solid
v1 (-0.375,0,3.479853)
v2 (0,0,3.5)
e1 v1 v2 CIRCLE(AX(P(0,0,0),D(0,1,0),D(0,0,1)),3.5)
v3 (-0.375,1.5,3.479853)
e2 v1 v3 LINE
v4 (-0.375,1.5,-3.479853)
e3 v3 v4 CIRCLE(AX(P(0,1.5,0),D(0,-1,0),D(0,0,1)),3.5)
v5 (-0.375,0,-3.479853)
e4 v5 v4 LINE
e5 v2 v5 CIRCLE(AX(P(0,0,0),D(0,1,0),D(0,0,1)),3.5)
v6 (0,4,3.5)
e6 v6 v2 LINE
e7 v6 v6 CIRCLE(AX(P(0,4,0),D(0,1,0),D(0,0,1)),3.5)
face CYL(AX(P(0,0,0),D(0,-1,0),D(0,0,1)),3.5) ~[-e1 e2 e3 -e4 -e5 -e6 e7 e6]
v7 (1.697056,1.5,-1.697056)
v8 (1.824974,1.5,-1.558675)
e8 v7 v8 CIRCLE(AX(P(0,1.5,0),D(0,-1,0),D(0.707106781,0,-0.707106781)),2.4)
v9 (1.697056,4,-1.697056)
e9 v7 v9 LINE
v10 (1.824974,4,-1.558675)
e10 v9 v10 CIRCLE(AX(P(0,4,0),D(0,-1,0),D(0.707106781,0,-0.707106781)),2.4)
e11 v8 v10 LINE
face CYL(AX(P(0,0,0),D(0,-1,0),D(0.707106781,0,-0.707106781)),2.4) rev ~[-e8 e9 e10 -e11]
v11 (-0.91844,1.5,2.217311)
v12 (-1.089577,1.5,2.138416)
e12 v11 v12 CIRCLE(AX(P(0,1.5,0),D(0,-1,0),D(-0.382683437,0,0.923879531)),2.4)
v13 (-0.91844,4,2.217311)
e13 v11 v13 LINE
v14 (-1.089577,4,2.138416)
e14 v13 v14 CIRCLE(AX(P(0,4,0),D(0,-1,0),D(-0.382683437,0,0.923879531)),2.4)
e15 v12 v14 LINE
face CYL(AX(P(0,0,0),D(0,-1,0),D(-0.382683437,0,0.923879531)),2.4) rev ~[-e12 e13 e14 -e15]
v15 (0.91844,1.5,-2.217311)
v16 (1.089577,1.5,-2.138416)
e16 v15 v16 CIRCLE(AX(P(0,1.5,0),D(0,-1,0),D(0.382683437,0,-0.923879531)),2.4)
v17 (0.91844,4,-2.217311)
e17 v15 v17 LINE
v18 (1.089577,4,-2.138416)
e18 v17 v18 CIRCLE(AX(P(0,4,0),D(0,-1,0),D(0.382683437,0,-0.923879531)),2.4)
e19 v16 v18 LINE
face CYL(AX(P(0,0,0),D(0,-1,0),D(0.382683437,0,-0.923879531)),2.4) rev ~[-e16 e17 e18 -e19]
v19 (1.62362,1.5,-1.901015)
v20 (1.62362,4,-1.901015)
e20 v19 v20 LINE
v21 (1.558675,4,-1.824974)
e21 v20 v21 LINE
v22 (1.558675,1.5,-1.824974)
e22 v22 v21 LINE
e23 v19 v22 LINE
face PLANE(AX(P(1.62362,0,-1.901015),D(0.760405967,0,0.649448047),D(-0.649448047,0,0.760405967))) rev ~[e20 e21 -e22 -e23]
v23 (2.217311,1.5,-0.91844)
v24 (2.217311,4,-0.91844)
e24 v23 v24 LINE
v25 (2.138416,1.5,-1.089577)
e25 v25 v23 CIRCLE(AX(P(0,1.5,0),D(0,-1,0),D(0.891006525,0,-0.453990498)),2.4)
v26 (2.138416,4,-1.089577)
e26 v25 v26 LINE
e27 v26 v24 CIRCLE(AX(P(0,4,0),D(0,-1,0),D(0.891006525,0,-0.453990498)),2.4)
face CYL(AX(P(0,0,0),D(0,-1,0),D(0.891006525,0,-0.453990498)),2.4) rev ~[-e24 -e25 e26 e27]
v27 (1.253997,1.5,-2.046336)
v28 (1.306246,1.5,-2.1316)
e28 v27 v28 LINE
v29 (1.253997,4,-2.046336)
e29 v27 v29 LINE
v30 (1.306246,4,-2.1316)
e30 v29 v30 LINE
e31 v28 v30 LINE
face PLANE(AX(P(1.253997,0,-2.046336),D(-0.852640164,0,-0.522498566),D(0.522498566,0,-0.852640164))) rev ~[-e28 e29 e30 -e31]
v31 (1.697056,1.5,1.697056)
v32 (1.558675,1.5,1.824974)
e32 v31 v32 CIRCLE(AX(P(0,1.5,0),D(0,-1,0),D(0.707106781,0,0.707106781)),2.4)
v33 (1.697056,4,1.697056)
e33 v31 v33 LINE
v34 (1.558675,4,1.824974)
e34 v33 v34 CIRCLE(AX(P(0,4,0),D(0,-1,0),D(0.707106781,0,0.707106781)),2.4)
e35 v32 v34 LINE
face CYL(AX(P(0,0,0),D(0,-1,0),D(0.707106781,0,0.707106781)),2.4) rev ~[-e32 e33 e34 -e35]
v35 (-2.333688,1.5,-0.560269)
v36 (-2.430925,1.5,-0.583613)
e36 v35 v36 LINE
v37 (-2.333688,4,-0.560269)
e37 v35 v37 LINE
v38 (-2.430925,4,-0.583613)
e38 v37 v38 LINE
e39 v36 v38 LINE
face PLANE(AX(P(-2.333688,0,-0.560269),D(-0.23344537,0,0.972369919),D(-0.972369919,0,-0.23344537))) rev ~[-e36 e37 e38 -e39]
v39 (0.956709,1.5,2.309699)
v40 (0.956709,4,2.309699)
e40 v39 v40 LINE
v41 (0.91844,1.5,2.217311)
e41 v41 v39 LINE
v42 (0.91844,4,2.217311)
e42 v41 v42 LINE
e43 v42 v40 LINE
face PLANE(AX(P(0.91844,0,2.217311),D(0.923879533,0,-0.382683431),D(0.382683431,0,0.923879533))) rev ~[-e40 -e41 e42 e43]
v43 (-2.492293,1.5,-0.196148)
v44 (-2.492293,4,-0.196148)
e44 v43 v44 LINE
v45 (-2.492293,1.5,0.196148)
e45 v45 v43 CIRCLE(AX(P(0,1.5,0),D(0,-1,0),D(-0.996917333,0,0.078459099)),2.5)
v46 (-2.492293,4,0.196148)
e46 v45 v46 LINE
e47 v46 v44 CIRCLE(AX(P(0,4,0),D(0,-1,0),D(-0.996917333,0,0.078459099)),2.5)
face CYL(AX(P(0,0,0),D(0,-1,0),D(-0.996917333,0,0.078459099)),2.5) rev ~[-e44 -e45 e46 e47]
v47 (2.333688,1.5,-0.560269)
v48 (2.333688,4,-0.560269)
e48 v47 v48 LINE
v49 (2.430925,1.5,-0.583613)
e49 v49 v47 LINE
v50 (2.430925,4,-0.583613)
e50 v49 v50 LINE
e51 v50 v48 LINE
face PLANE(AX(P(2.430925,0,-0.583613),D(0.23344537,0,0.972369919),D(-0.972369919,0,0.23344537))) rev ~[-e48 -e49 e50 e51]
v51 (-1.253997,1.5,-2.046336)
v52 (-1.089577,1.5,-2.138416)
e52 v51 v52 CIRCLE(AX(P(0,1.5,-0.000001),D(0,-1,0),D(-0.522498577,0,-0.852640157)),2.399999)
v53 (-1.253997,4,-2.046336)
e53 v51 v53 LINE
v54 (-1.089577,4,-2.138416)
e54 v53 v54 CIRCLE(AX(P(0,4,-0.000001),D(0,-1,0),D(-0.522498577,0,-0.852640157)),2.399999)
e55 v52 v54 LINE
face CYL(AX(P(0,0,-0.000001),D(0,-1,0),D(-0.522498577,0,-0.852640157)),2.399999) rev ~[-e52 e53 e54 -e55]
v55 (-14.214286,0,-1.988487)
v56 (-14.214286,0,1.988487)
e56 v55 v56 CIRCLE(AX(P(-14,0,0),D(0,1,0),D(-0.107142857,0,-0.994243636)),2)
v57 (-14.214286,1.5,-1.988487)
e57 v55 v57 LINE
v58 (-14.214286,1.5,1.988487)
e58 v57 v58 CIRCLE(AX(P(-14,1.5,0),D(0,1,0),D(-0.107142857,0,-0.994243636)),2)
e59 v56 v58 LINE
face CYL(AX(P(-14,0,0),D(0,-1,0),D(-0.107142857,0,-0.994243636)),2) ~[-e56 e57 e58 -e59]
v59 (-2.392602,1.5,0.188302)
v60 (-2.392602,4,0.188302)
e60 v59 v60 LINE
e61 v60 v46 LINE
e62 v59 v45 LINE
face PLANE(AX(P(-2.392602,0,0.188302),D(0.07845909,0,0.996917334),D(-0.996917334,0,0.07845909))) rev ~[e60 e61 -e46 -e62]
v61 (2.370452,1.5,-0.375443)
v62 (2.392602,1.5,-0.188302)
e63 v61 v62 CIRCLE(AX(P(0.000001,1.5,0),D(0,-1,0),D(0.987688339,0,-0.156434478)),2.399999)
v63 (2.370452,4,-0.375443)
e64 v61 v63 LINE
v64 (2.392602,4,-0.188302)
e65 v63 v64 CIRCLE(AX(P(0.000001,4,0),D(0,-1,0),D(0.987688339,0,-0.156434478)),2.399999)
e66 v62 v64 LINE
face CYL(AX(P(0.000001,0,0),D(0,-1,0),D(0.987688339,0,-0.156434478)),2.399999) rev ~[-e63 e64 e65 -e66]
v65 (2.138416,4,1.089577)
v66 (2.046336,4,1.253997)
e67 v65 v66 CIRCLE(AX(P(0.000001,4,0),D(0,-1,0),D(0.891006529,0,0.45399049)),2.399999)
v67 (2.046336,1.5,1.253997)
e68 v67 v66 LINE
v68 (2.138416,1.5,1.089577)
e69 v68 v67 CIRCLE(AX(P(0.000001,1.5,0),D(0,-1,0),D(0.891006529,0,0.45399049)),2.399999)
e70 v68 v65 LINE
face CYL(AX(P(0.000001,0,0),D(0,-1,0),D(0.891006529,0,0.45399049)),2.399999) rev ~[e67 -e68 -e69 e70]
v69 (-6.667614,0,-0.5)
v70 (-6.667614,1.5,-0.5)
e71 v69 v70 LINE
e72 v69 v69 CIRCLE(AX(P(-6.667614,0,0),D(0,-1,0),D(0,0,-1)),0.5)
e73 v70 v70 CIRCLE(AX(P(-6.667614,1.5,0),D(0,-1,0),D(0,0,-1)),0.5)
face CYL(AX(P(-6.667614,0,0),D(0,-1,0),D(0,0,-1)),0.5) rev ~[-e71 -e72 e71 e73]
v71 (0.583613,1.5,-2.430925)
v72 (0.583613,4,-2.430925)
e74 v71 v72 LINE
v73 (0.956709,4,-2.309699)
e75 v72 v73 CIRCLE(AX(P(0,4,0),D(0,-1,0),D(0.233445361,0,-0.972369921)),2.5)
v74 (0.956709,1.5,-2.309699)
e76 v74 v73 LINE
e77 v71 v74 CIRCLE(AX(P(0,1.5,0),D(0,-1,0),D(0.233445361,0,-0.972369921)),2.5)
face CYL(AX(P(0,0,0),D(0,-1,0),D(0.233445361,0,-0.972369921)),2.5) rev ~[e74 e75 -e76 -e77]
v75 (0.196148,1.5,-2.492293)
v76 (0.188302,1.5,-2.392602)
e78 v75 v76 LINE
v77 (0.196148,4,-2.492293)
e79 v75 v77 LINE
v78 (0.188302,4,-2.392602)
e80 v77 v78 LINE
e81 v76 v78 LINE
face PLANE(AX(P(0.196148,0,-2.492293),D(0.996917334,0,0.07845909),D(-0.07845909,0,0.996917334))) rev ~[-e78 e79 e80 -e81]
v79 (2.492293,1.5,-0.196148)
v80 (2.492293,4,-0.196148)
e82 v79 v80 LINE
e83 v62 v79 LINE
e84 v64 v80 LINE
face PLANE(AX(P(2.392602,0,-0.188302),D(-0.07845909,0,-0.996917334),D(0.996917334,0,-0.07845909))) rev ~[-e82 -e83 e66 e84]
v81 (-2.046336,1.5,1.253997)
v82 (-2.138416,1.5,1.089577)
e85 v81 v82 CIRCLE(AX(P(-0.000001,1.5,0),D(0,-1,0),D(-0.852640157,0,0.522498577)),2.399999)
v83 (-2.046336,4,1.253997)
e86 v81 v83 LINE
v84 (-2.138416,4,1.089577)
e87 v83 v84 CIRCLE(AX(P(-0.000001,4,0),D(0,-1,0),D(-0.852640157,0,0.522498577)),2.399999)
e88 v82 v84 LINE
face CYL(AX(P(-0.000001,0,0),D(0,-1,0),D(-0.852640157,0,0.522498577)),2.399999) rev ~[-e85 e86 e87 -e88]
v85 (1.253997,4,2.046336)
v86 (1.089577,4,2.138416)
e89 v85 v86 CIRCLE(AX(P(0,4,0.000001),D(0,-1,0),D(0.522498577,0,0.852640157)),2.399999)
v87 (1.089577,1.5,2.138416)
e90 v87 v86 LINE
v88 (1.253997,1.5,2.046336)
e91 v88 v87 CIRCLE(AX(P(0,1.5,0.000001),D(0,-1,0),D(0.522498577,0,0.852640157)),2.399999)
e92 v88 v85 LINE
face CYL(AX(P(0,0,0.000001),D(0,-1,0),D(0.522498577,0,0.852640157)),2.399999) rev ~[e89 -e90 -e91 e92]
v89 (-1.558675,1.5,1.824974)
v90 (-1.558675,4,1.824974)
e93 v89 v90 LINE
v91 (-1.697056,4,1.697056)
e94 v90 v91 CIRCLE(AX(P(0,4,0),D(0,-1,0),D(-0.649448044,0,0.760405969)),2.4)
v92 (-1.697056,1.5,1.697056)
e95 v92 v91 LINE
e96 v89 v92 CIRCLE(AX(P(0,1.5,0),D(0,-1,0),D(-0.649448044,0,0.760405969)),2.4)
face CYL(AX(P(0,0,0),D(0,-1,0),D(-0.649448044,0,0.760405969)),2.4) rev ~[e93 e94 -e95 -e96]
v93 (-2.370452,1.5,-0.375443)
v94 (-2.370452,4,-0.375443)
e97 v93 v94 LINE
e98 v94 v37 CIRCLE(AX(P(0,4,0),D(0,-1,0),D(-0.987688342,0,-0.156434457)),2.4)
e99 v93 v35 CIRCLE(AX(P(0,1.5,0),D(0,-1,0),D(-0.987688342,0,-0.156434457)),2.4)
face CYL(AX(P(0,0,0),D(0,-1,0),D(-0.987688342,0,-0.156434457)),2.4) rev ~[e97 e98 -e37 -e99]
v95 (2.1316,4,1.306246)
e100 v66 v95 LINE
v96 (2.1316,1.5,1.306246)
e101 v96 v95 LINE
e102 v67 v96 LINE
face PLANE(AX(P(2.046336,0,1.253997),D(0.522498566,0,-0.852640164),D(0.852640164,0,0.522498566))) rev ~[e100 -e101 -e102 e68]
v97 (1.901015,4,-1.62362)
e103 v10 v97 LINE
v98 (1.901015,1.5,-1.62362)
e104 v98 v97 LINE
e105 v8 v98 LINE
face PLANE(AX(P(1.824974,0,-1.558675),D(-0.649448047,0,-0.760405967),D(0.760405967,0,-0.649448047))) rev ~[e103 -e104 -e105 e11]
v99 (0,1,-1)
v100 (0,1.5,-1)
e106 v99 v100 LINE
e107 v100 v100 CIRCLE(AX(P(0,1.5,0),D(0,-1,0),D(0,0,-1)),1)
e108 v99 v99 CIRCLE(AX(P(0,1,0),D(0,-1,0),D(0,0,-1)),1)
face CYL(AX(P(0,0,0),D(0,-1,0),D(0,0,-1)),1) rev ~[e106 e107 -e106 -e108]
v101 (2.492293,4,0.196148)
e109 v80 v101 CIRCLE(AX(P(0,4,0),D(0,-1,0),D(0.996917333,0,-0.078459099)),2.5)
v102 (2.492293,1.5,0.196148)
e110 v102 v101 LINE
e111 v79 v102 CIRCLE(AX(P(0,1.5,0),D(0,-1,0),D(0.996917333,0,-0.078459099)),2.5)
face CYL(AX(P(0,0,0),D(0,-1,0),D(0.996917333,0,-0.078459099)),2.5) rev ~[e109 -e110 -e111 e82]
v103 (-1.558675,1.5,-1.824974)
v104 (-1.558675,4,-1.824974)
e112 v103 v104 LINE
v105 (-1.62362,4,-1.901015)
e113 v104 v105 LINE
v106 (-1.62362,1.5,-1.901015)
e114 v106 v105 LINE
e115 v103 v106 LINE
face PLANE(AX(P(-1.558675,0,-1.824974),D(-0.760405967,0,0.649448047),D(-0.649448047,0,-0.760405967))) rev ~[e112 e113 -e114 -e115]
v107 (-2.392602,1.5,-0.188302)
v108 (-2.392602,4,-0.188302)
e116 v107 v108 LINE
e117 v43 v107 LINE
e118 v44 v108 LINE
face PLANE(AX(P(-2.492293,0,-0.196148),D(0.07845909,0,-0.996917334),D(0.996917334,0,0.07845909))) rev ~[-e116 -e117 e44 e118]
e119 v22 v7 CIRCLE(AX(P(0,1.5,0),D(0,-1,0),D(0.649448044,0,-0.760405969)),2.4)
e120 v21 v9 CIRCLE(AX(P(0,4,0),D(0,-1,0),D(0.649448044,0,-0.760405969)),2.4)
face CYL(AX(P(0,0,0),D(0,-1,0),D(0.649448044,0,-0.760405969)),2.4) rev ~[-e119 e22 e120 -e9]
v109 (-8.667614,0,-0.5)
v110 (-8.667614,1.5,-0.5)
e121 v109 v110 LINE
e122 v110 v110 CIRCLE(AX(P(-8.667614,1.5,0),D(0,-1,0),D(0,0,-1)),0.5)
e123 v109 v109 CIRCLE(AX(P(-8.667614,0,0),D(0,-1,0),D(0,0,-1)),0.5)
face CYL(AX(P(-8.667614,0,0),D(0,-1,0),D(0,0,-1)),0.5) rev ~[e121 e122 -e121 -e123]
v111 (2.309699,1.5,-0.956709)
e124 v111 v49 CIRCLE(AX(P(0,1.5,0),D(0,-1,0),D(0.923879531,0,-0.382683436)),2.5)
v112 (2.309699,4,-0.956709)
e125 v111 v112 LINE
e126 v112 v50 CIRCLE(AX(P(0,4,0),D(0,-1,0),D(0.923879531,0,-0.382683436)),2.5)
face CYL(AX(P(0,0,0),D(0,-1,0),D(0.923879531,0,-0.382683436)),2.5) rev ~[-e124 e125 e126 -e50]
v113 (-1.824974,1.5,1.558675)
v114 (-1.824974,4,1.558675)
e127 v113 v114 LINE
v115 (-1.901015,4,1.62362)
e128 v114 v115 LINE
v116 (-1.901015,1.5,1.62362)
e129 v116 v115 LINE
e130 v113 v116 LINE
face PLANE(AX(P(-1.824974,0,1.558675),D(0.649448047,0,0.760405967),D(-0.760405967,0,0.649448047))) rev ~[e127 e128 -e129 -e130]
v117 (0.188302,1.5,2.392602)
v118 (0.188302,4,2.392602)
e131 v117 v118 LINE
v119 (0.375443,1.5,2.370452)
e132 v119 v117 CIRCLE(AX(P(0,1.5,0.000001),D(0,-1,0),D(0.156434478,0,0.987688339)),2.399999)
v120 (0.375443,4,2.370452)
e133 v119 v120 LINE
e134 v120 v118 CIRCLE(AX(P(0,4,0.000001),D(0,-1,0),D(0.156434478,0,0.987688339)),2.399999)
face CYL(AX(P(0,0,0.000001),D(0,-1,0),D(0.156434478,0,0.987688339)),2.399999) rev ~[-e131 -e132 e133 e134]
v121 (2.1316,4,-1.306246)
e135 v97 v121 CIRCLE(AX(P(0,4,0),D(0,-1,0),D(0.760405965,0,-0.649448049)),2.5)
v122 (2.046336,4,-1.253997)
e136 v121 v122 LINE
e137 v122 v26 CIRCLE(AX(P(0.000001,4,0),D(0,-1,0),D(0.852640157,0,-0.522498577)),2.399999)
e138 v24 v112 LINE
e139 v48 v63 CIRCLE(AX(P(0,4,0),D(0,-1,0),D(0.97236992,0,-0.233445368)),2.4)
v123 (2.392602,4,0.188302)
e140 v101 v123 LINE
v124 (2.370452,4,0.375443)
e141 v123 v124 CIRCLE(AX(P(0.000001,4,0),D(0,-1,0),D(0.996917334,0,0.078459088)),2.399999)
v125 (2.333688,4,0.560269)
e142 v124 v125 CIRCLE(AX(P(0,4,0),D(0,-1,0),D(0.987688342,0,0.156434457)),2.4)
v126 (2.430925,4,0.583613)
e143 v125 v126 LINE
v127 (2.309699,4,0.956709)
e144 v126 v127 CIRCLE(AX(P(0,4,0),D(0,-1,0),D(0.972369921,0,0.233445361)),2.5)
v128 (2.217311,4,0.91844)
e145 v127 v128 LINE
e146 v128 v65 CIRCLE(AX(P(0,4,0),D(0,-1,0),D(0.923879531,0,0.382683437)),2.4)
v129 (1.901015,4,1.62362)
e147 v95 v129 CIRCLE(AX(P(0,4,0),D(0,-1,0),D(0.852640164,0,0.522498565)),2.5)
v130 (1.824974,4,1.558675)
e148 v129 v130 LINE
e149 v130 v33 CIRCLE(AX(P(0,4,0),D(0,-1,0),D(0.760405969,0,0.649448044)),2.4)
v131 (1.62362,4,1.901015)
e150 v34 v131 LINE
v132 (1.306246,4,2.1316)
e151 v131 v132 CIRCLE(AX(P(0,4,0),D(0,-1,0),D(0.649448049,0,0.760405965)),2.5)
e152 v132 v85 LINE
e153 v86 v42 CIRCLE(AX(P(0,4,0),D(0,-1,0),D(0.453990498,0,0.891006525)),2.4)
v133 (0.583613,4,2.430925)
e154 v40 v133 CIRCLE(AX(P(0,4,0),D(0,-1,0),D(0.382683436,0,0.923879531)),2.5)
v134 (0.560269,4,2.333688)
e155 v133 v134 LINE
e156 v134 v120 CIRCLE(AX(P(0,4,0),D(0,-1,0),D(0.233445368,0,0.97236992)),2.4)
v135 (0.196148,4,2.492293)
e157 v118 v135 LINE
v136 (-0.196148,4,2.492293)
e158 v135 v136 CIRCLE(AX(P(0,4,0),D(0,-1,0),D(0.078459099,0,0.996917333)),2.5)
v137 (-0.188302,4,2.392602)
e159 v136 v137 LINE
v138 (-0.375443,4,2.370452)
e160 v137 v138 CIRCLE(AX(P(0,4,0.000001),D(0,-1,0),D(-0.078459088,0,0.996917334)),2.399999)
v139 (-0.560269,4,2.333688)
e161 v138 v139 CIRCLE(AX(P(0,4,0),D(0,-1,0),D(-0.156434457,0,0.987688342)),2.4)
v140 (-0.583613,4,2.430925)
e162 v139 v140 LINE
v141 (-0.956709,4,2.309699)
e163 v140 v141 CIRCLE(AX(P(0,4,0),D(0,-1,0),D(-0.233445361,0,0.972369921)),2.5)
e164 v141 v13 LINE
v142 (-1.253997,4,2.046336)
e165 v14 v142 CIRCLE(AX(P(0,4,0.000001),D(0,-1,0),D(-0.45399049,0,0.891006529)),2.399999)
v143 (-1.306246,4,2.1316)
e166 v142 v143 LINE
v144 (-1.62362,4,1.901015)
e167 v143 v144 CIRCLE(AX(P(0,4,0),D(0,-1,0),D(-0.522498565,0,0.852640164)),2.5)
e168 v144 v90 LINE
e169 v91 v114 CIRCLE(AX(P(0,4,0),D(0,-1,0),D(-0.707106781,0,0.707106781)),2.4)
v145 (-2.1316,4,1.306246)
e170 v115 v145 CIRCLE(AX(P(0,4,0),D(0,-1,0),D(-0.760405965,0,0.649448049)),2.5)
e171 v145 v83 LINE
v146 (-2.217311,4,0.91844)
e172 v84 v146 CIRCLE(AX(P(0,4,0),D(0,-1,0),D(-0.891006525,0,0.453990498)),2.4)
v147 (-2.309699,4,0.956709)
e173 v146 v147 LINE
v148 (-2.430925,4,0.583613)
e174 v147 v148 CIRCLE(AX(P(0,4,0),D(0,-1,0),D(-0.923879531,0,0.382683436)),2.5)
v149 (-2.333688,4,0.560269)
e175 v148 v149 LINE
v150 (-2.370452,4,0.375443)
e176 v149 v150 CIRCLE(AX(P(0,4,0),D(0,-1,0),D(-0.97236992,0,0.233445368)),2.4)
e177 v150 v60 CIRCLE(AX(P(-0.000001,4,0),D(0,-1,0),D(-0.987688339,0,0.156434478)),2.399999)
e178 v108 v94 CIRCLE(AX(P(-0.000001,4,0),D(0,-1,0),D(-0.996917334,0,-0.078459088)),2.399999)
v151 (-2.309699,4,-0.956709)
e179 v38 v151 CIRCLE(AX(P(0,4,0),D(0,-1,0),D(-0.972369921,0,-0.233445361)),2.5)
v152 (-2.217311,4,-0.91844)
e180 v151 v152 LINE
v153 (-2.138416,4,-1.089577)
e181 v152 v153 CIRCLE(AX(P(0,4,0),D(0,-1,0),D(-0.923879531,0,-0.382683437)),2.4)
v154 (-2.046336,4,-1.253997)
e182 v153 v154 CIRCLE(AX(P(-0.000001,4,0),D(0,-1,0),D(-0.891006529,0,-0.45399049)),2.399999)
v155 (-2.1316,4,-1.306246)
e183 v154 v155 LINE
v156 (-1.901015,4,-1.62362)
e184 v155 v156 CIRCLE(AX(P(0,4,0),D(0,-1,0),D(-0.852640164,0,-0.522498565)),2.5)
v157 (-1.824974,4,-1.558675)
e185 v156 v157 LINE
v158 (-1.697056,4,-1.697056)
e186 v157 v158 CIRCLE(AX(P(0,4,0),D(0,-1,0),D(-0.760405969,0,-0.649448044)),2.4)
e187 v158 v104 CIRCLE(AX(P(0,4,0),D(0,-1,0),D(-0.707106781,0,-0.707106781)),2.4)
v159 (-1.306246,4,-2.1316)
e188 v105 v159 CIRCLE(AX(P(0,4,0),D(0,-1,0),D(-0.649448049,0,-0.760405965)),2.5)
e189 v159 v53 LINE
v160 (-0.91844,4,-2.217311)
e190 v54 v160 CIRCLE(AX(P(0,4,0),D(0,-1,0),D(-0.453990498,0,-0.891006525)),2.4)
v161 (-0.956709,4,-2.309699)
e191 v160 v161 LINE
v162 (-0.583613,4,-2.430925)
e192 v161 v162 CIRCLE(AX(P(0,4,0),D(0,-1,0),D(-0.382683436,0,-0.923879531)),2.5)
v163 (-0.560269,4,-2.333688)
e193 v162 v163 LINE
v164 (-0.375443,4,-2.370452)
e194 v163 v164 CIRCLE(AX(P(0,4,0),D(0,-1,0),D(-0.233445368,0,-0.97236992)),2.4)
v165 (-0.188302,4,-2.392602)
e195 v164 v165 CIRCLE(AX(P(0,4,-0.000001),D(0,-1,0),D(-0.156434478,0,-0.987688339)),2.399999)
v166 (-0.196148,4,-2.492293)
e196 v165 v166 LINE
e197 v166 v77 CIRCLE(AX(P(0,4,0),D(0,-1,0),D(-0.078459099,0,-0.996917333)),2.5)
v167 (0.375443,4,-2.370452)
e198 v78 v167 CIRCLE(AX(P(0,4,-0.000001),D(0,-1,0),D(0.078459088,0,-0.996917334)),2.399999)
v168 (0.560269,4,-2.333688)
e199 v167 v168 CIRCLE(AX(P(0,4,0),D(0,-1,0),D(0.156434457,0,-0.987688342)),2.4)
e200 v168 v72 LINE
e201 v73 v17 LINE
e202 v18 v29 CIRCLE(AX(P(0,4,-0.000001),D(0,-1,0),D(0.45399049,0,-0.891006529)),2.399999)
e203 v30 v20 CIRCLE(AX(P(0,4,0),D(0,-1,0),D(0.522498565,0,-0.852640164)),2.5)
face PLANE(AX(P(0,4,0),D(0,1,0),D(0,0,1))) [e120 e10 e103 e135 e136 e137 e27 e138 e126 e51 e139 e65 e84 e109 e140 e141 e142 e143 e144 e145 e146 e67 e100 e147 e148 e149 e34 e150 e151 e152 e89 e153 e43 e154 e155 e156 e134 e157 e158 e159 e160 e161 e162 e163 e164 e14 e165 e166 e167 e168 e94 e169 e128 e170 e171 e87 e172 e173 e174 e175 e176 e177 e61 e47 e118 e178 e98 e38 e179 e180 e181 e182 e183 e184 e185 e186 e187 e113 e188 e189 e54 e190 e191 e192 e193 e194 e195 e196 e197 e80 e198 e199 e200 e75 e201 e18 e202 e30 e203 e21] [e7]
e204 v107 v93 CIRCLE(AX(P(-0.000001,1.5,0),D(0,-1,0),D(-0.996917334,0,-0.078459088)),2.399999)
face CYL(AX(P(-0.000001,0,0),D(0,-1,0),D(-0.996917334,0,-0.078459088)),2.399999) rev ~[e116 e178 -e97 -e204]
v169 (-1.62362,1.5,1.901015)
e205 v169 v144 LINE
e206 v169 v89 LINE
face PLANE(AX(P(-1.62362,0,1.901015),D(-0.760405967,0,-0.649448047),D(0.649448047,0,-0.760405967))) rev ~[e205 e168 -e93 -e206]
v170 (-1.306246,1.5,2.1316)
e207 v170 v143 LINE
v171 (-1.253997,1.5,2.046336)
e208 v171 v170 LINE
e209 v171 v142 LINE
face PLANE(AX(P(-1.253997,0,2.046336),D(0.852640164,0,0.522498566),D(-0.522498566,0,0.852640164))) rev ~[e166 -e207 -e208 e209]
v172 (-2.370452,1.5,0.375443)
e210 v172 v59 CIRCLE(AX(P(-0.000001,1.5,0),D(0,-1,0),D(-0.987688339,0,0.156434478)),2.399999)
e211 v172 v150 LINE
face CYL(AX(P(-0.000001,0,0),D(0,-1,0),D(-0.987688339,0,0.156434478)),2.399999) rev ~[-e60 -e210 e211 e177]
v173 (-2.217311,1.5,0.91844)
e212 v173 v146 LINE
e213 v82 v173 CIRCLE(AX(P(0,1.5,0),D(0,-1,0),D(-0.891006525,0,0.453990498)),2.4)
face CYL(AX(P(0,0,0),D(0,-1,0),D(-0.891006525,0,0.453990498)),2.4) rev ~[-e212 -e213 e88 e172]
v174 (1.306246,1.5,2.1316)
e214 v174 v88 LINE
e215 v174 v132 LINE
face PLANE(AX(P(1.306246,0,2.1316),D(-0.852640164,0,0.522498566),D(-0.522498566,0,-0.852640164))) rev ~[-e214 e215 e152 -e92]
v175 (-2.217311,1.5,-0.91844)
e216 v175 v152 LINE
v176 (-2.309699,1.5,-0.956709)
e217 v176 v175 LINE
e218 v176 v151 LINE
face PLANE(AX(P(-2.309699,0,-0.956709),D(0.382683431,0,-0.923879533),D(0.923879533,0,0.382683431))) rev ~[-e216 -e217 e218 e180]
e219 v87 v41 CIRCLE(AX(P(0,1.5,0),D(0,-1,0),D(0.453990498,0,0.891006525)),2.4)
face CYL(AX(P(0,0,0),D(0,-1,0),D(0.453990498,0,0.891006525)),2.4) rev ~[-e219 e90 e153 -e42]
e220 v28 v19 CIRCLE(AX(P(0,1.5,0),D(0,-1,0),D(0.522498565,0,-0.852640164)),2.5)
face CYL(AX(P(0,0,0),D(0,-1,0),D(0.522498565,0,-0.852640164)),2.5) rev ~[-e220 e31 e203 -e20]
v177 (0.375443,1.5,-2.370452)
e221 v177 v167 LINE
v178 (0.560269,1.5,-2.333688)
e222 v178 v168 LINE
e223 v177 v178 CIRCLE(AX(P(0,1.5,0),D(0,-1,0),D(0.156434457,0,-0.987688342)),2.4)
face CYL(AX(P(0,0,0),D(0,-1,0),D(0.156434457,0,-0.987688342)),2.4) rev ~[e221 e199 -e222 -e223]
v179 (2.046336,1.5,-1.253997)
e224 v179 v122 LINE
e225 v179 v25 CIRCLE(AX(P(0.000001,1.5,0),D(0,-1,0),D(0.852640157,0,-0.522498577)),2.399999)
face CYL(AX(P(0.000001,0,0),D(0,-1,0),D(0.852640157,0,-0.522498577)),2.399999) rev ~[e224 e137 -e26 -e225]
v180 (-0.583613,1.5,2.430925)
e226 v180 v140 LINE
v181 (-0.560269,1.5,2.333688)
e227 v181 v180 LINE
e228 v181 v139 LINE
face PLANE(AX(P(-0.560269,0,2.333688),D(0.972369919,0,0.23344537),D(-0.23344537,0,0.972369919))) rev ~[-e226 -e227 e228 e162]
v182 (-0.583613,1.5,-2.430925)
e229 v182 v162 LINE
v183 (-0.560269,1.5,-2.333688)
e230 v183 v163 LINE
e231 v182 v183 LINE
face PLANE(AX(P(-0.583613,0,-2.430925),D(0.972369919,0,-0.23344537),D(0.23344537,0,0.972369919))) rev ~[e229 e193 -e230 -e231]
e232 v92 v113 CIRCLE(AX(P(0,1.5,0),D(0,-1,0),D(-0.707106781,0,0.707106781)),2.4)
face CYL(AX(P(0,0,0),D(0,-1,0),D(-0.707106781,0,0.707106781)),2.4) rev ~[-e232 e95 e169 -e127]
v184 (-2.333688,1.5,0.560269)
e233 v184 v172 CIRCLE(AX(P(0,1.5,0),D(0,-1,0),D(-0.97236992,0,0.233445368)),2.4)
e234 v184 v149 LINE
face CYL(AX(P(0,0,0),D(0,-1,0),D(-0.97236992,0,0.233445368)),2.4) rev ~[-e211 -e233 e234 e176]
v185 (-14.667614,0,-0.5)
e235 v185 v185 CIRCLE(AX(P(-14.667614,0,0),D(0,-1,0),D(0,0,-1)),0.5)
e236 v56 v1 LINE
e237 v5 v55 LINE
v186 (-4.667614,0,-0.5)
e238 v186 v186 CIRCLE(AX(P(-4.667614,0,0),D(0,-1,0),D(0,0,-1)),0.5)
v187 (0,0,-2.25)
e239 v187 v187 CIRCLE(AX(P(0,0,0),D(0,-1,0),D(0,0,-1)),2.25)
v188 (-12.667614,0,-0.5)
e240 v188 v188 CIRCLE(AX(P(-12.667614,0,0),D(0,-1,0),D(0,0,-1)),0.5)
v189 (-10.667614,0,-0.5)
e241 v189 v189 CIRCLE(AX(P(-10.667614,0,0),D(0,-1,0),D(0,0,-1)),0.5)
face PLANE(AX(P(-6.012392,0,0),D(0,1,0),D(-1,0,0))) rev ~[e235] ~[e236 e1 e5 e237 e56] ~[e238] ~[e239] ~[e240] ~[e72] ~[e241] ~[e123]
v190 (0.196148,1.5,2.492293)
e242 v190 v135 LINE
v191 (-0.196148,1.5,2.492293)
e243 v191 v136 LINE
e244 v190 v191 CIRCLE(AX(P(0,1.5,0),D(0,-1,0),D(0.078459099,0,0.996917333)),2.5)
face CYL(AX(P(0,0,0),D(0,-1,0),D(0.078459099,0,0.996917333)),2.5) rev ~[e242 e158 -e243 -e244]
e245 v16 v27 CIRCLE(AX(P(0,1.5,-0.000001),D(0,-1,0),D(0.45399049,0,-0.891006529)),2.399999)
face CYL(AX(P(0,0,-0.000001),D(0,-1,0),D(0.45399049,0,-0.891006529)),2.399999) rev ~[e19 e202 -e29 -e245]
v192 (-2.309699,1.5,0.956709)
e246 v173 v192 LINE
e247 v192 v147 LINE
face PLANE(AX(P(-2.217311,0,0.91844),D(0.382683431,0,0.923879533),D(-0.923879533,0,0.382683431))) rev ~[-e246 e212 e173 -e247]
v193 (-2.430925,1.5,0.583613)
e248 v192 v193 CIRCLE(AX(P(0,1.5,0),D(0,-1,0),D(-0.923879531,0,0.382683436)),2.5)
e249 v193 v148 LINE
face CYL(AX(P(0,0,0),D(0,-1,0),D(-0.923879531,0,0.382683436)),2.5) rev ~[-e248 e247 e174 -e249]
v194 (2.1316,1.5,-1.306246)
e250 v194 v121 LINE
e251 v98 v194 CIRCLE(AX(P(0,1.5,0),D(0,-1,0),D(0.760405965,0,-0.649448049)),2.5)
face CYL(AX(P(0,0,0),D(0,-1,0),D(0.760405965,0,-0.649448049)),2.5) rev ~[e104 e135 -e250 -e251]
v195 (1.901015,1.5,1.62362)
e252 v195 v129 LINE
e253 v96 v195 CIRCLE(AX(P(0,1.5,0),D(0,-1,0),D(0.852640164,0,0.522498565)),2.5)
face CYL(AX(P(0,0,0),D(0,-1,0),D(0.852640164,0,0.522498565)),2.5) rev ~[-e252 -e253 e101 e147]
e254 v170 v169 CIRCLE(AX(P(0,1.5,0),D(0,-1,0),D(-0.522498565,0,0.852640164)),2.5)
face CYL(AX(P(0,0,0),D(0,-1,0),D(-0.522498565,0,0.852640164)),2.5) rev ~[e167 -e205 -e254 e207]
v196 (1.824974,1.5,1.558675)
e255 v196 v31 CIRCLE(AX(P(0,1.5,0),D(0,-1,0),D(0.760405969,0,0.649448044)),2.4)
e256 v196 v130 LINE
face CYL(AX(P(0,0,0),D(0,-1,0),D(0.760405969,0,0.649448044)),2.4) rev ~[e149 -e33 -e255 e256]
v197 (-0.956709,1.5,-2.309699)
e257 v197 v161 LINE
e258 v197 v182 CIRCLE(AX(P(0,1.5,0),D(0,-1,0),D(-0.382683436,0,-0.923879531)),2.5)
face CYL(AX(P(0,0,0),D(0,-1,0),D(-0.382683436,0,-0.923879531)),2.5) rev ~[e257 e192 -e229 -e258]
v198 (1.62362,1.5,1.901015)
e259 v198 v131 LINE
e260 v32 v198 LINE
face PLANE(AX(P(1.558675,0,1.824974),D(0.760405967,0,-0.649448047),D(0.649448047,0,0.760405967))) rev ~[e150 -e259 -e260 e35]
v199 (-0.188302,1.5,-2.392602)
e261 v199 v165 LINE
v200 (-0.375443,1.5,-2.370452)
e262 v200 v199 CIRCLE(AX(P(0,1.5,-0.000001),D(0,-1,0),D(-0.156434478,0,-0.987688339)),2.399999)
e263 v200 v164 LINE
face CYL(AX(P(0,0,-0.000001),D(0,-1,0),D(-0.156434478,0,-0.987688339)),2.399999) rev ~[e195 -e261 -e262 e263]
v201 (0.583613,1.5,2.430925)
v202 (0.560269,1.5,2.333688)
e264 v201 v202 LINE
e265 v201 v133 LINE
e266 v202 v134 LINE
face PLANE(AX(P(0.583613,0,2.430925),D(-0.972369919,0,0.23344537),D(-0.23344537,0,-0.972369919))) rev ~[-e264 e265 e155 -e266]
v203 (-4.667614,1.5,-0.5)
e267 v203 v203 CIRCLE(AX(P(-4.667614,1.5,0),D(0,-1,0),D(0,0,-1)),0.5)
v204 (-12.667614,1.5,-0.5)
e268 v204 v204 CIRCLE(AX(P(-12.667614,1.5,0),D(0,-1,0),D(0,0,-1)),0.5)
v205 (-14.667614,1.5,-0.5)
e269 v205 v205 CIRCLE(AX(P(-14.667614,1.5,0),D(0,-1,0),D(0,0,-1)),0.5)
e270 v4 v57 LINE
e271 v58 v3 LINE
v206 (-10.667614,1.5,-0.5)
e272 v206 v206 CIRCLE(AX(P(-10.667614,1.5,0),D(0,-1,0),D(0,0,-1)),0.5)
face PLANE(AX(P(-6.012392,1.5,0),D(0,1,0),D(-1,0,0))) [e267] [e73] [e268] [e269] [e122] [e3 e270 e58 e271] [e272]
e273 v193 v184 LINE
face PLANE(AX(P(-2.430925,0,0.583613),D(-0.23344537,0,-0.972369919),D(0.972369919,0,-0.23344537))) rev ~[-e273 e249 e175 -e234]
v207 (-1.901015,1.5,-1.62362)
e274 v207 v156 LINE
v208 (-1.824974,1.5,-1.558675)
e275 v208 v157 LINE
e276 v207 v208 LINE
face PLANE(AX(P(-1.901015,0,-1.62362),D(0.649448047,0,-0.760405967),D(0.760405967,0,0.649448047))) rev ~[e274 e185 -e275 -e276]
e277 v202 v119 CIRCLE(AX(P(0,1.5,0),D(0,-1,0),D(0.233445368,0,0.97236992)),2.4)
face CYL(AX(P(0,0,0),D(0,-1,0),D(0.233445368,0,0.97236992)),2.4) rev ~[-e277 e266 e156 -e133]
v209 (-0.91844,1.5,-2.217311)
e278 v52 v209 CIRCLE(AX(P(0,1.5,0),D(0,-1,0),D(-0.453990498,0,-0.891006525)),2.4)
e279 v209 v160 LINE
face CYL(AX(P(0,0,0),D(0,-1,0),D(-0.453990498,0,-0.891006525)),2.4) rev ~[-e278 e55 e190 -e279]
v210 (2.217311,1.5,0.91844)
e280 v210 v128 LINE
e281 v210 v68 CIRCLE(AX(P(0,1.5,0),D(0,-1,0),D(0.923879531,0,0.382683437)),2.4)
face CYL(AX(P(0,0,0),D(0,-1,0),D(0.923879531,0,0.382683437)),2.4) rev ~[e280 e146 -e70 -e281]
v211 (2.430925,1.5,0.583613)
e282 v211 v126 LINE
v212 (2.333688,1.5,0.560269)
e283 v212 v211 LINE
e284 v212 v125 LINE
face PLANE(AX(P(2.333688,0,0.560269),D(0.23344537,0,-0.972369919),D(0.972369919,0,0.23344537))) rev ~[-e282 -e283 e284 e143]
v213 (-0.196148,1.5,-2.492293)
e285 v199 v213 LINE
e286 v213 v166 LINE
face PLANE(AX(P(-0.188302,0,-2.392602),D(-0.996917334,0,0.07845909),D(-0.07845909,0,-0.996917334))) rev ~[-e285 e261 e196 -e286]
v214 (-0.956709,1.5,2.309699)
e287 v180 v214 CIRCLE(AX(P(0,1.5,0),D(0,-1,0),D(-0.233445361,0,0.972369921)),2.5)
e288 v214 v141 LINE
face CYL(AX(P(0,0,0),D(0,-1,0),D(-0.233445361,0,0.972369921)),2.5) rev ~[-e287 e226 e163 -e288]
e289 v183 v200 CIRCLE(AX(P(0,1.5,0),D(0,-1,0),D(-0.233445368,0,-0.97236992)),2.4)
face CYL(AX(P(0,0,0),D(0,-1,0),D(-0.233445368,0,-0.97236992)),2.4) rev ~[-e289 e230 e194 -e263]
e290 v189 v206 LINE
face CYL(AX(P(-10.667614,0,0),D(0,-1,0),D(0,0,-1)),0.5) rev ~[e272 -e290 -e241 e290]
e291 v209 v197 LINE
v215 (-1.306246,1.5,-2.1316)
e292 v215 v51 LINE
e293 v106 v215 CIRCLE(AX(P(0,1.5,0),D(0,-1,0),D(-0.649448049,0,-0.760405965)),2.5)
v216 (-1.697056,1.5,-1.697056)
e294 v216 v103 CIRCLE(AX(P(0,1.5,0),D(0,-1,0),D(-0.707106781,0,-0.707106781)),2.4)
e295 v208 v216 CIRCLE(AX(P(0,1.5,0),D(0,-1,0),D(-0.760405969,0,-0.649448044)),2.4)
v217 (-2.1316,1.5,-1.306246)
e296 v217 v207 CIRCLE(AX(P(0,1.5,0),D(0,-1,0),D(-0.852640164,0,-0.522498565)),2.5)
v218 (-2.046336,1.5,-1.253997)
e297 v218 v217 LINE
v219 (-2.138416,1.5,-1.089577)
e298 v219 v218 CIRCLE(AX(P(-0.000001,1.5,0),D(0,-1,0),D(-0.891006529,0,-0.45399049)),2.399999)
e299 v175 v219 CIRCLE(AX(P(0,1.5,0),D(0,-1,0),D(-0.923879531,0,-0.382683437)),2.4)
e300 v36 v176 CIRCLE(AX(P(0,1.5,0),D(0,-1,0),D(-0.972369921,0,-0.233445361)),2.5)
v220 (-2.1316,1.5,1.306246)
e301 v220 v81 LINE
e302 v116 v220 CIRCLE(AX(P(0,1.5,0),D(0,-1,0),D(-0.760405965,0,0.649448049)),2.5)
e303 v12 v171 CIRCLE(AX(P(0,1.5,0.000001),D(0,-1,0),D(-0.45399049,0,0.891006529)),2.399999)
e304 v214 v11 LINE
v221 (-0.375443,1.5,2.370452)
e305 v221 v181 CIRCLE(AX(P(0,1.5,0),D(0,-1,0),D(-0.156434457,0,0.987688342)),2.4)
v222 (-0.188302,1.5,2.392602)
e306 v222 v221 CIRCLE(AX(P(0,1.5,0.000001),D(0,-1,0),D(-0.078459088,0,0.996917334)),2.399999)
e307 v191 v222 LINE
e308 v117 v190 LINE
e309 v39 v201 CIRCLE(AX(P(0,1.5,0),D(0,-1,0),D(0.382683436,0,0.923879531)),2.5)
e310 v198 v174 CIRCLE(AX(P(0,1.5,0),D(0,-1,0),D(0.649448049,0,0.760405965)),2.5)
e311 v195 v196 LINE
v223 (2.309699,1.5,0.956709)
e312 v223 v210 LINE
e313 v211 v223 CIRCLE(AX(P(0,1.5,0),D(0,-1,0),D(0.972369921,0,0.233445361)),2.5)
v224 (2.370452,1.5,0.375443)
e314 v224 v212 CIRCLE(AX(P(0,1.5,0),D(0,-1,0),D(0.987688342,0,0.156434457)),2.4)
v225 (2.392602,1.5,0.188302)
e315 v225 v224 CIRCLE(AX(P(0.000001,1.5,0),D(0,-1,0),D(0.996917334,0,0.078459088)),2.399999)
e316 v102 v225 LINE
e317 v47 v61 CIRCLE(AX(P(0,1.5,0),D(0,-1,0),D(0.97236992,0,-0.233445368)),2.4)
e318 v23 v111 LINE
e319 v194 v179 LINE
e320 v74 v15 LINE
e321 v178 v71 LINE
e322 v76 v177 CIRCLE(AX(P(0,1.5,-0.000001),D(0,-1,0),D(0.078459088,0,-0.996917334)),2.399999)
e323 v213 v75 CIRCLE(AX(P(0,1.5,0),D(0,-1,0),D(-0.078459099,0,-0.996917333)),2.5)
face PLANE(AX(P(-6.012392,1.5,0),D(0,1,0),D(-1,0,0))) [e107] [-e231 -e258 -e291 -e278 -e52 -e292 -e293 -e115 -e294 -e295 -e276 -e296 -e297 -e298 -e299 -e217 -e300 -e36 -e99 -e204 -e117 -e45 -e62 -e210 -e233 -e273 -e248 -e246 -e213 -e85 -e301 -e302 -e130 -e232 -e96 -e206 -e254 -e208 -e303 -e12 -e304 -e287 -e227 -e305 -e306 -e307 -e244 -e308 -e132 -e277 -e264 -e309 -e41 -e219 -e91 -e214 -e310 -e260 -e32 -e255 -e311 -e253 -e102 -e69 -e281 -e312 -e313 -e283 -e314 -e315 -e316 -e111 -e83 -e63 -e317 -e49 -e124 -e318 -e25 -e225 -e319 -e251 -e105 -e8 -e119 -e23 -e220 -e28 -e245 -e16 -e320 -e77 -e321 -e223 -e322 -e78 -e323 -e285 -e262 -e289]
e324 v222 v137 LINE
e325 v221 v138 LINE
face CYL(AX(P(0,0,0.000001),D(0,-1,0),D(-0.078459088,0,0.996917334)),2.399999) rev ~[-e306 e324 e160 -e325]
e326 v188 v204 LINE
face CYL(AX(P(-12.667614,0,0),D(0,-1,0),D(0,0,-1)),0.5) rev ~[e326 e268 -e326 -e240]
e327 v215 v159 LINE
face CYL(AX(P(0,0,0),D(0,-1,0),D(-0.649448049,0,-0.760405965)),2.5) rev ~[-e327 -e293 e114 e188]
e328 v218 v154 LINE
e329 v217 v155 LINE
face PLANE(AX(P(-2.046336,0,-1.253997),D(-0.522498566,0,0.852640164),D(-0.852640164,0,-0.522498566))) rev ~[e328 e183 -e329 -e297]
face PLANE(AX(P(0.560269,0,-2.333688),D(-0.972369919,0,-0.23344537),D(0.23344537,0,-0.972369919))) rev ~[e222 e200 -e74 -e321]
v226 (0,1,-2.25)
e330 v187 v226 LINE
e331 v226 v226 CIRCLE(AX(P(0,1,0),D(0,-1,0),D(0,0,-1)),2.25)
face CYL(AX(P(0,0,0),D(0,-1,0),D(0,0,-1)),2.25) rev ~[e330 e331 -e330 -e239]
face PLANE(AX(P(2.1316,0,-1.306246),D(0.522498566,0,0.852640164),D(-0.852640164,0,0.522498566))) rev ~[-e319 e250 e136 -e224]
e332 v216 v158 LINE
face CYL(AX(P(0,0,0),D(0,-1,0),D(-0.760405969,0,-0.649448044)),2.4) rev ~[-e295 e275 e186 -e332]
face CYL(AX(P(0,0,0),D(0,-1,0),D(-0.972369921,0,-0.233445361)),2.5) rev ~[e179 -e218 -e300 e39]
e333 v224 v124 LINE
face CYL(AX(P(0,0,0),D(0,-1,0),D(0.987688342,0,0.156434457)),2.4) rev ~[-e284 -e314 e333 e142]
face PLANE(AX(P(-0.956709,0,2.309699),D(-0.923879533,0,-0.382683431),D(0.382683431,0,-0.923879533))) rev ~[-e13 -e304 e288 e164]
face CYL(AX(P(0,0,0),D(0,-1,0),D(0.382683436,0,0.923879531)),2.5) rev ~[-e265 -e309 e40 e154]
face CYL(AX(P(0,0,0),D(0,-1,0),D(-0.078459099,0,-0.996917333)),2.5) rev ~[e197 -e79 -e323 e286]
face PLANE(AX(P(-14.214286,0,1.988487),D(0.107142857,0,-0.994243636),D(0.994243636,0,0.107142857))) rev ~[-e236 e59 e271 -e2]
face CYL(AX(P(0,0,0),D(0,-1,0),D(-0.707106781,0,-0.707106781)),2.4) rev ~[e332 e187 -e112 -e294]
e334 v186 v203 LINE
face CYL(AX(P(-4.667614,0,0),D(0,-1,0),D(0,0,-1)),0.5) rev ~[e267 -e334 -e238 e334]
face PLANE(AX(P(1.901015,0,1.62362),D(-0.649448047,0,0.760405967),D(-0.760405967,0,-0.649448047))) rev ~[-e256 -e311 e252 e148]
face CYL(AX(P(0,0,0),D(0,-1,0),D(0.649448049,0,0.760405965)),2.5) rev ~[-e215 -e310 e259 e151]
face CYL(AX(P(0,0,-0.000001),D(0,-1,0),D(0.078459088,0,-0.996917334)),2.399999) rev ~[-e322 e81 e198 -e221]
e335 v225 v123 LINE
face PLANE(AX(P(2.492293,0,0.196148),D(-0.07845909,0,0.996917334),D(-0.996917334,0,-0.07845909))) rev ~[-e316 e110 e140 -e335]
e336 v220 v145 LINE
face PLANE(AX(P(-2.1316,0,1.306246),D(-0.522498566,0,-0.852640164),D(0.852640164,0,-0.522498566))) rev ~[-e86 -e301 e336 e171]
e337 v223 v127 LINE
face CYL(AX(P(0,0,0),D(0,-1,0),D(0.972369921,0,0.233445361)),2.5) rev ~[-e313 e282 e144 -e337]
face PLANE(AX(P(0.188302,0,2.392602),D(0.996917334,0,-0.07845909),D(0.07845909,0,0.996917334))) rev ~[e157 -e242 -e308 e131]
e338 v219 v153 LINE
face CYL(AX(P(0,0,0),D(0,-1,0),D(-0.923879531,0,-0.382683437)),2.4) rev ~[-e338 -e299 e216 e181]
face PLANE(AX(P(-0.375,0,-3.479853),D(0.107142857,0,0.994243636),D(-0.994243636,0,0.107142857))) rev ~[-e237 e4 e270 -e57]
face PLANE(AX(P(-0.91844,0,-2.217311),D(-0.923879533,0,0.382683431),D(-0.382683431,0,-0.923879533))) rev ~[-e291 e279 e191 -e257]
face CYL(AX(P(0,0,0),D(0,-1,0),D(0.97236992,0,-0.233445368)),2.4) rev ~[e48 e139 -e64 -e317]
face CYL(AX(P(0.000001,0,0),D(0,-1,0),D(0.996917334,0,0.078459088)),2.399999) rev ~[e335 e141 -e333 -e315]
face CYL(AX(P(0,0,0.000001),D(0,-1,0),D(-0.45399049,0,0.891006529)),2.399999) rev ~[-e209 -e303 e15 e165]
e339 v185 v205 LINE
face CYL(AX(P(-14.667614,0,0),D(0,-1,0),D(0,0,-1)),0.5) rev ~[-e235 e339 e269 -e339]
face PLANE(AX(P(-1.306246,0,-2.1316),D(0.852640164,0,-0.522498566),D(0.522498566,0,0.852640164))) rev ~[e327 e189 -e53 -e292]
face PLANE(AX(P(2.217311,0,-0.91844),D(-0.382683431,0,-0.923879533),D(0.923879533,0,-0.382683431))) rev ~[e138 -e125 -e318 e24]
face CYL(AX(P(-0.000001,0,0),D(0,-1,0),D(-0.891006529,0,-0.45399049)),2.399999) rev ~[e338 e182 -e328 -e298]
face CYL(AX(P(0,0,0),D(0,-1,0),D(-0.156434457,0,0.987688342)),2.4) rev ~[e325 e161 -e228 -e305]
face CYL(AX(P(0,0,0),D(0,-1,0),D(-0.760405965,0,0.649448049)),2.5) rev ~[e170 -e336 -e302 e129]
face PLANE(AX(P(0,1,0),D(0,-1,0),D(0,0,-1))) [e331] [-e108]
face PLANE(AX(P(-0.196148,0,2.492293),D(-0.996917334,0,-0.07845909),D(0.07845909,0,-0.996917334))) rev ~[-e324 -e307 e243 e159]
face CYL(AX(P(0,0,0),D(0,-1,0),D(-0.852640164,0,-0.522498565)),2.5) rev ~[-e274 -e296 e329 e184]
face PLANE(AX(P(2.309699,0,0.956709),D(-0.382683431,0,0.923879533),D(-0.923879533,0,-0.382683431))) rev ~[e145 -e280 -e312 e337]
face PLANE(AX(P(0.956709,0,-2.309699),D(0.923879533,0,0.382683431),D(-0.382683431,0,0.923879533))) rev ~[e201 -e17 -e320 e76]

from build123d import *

# Parameters (mm, degrees)
SKETCH1_R           = 3.5
BOSS_EXTRUDE1_DEPTH = 4
SKETCH2_R           = 1
SKETCH2_R_2         = 0.5
BOSS_EXTRUDE2_DEPTH = 1.5
SKETCH3_R           = 2.25
CUT_EXTRUDE1_DEPTH  = 1


with BuildPart() as part:
    # Sketch1 → Boss-Extrude1 (new body)
    with BuildSketch(Plane(origin=(0, 0, 0), x_dir=(1, 0, 0), z_dir=(0, 1, 0))):
        with Locations(Location((0, 0, 0), (0, 0, 270))):
            Circle(SKETCH1_R)
        with BuildLine():
            Line((2.392601601, 0.18830183), (2.492293334, 0.196147739))
            ThreePointArc((2.492293334, 0.196147739), (2.5, 0), (2.492293334, -0.196147739))
            Line((2.492293334, -0.196147739), (2.392601601, -0.18830183))
            ThreePointArc((2.392601601, -0.18830183), (2.383364297, -0.282089754), (2.370452017, -0.375442716))
            ThreePointArc((2.370452017, -0.375442716), (2.353884673, -0.468216773), (2.333687809, -0.560268873))
            Line((2.333687809, -0.560268873), (2.430924801, -0.58361341))
            ThreePointArc((2.430924801, -0.58361341), (2.377641291, -0.772542486), (2.309698831, -0.956708581))
            Line((2.309698831, -0.956708581), (2.217310878, -0.918440238))
            ThreePointArc((2.217310878, -0.918440238), (2.179543617, -1.00478337), (2.138415658, -1.089577199))
            ThreePointArc((2.138415658, -1.089577199), (2.093990417, -1.17269098), (2.046336394, -1.253996555))
            Line((2.046336394, -1.253996555), (2.131600411, -1.306246412))
            ThreePointArc((2.131600411, -1.306246412), (2.022542486, -1.469463131), (1.901014914, -1.623620121))
            Line((1.901014914, -1.623620121), (1.824974317, -1.558675316))
            ThreePointArc((1.824974317, -1.558675316), (1.762374023, -1.629121789), (1.697056275, -1.697056275))
            ThreePointArc((1.697056275, -1.697056275), (1.629121789, -1.762374023), (1.558675316, -1.824974317))
            Line((1.558675316, -1.824974317), (1.623620121, -1.901014914))
            ThreePointArc((1.623620121, -1.901014914), (1.469463131, -2.022542486), (1.306246412, -2.131600411))
            Line((1.306246412, -2.131600411), (1.253996555, -2.046336394))
            ThreePointArc((1.253996555, -2.046336394), (1.17269098, -2.093990417), (1.089577199, -2.138415658))
            ThreePointArc((1.089577199, -2.138415658), (1.00478337, -2.179543617), (0.918440238, -2.217310878))
            Line((0.918440238, -2.217310878), (0.956708581, -2.309698831))
            ThreePointArc((0.956708581, -2.309698831), (0.772542486, -2.377641291), (0.58361341, -2.430924801))
            Line((0.58361341, -2.430924801), (0.560268873, -2.333687809))
            ThreePointArc((0.560268873, -2.333687809), (0.468216773, -2.353884673), (0.375442716, -2.370452017))
            ThreePointArc((0.375442716, -2.370452017), (0.282089754, -2.383364297), (0.18830183, -2.392601601))
            Line((0.18830183, -2.392601601), (0.196147739, -2.492293334))
            ThreePointArc((0.196147739, -2.492293334), (0, -2.5), (-0.196147739, -2.492293334))
            Line((-0.196147739, -2.492293334), (-0.18830183, -2.392601601))
            ThreePointArc((-0.18830183, -2.392601601), (-0.282089754, -2.383364297), (-0.375442716, -2.370452017))
            ThreePointArc((-0.375442716, -2.370452017), (-0.468216773, -2.353884673), (-0.560268873, -2.333687809))
            Line((-0.560268873, -2.333687809), (-0.58361341, -2.430924801))
            ThreePointArc((-0.58361341, -2.430924801), (-0.772542486, -2.377641291), (-0.956708581, -2.309698831))
            Line((-0.956708581, -2.309698831), (-0.918440238, -2.217310878))
            ThreePointArc((-0.918440238, -2.217310878), (-1.00478337, -2.179543617), (-1.089577199, -2.138415658))
            ThreePointArc((-1.089577199, -2.138415658), (-1.17269098, -2.093990417), (-1.253996555, -2.046336394))
            Line((-1.253996555, -2.046336394), (-1.306246412, -2.131600411))
            ThreePointArc((-1.306246412, -2.131600411), (-1.469463131, -2.022542486), (-1.623620121, -1.901014914))
            Line((-1.623620121, -1.901014914), (-1.558675316, -1.824974317))
            ThreePointArc((-1.558675316, -1.824974317), (-1.629121789, -1.762374023), (-1.697056275, -1.697056275))
            ThreePointArc((-1.697056275, -1.697056275), (-1.762374023, -1.629121789), (-1.824974317, -1.558675316))
            Line((-1.824974317, -1.558675316), (-1.901014914, -1.623620121))
            ThreePointArc((-1.901014914, -1.623620121), (-2.022542486, -1.469463131), (-2.131600411, -1.306246412))
            Line((-2.131600411, -1.306246412), (-2.046336394, -1.253996555))
            ThreePointArc((-2.046336394, -1.253996555), (-2.093990417, -1.17269098), (-2.138415658, -1.089577199))
            ThreePointArc((-2.138415658, -1.089577199), (-2.179543617, -1.00478337), (-2.217310878, -0.918440238))
            Line((-2.217310878, -0.918440238), (-2.309698831, -0.956708581))
            ThreePointArc((-2.309698831, -0.956708581), (-2.377641291, -0.772542486), (-2.430924801, -0.58361341))
            Line((-2.430924801, -0.58361341), (-2.333687809, -0.560268873))
            ThreePointArc((-2.333687809, -0.560268873), (-2.353884673, -0.468216773), (-2.370452017, -0.375442716))
            ThreePointArc((-2.370452017, -0.375442716), (-2.383364297, -0.282089754), (-2.392601601, -0.18830183))
            Line((-2.392601601, -0.18830183), (-2.492293334, -0.196147739))
            ThreePointArc((-2.492293334, -0.196147739), (-2.5, 0), (-2.492293334, 0.196147739))
            Line((-2.492293334, 0.196147739), (-2.392601601, 0.18830183))
            ThreePointArc((-2.392601601, 0.18830183), (-2.383364297, 0.282089754), (-2.370452017, 0.375442716))
            ThreePointArc((-2.370452017, 0.375442716), (-2.353884673, 0.468216773), (-2.333687809, 0.560268873))
            Line((-2.333687809, 0.560268873), (-2.430924801, 0.58361341))
            ThreePointArc((-2.430924801, 0.58361341), (-2.377641291, 0.772542486), (-2.309698831, 0.956708581))
            Line((-2.309698831, 0.956708581), (-2.217310878, 0.918440238))
            ThreePointArc((-2.217310878, 0.918440238), (-2.179543617, 1.00478337), (-2.138415658, 1.089577199))
            ThreePointArc((-2.138415658, 1.089577199), (-2.093990417, 1.17269098), (-2.046336394, 1.253996555))
            Line((-2.046336394, 1.253996555), (-2.131600411, 1.306246412))
            ThreePointArc((-2.131600411, 1.306246412), (-2.022542486, 1.469463131), (-1.901014914, 1.623620121))
            Line((-1.901014914, 1.623620121), (-1.824974317, 1.558675316))
            ThreePointArc((-1.824974317, 1.558675316), (-1.762374023, 1.629121789), (-1.697056275, 1.697056275))
            ThreePointArc((-1.697056275, 1.697056275), (-1.629121789, 1.762374023), (-1.558675316, 1.824974317))
            Line((-1.558675316, 1.824974317), (-1.623620121, 1.901014914))
            ThreePointArc((-1.623620121, 1.901014914), (-1.469463131, 2.022542486), (-1.306246412, 2.131600411))
            Line((-1.306246412, 2.131600411), (-1.253996555, 2.046336394))
            ThreePointArc((-1.253996555, 2.046336394), (-1.17269098, 2.093990417), (-1.089577199, 2.138415658))
            ThreePointArc((-1.089577199, 2.138415658), (-1.00478337, 2.179543617), (-0.918440238, 2.217310878))
            Line((-0.918440238, 2.217310878), (-0.956708581, 2.309698831))
            ThreePointArc((-0.956708581, 2.309698831), (-0.772542486, 2.377641291), (-0.58361341, 2.430924801))
            Line((-0.58361341, 2.430924801), (-0.560268873, 2.333687809))
            ThreePointArc((-0.560268873, 2.333687809), (-0.468216773, 2.353884673), (-0.375442716, 2.370452017))
            ThreePointArc((-0.375442716, 2.370452017), (-0.282089754, 2.383364297), (-0.18830183, 2.392601601))
            Line((-0.18830183, 2.392601601), (-0.196147739, 2.492293334))
            ThreePointArc((-0.196147739, 2.492293334), (0, 2.5), (0.196147739, 2.492293334))
            Line((0.196147739, 2.492293334), (0.18830183, 2.392601601))
            ThreePointArc((0.18830183, 2.392601601), (0.282089754, 2.383364297), (0.375442716, 2.370452017))
            ThreePointArc((0.375442716, 2.370452017), (0.468216773, 2.353884673), (0.560268873, 2.333687809))
            Line((0.560268873, 2.333687809), (0.58361341, 2.430924801))
            ThreePointArc((0.58361341, 2.430924801), (0.772542486, 2.377641291), (0.956708581, 2.309698831))
            Line((0.956708581, 2.309698831), (0.918440238, 2.217310878))
            ThreePointArc((0.918440238, 2.217310878), (1.00478337, 2.179543617), (1.089577199, 2.138415658))
            ThreePointArc((1.089577199, 2.138415658), (1.17269098, 2.093990417), (1.253996555, 2.046336394))
            Line((1.253996555, 2.046336394), (1.306246412, 2.131600411))
            ThreePointArc((1.306246412, 2.131600411), (1.469463131, 2.022542486), (1.623620121, 1.901014914))
            Line((1.623620121, 1.901014914), (1.558675316, 1.824974317))
            ThreePointArc((1.558675316, 1.824974317), (1.629121789, 1.762374023), (1.697056275, 1.697056275))
            ThreePointArc((1.697056275, 1.697056275), (1.762374023, 1.629121789), (1.824974317, 1.558675316))
            Line((1.824974317, 1.558675316), (1.901014914, 1.623620121))
            ThreePointArc((1.901014914, 1.623620121), (2.022542486, 1.469463131), (2.131600411, 1.306246412))
            Line((2.131600411, 1.306246412), (2.046336394, 1.253996555))
            ThreePointArc((2.046336394, 1.253996555), (2.093990417, 1.17269098), (2.138415658, 1.089577199))
            ThreePointArc((2.138415658, 1.089577199), (2.179543617, 1.00478337), (2.217310878, 0.918440238))
            Line((2.217310878, 0.918440238), (2.309698831, 0.956708581))
            ThreePointArc((2.309698831, 0.956708581), (2.377641291, 0.772542486), (2.430924801, 0.58361341))
            Line((2.430924801, 0.58361341), (2.333687809, 0.560268873))
            ThreePointArc((2.333687809, 0.560268873), (2.353884673, 0.468216773), (2.370452017, 0.375442716))
            ThreePointArc((2.370452017, 0.375442716), (2.383364297, 0.282089754), (2.392601601, 0.18830183))
        make_face(mode=Mode.SUBTRACT)
    extrude(amount=BOSS_EXTRUDE1_DEPTH)

    # Sketch2 → Boss-Extrude2 (add)
    with BuildSketch(Plane.XZ):
        with BuildLine():
            Line((-14.214285714, 1.988487272), (-0.375, 3.479852727))
            ThreePointArc((-0.375, 3.479852727), (3.5, 0), (-0.375, -3.479852727))
            Line((-0.375, -3.479852727), (-14.214285714, -1.988487272))
            ThreePointArc((-14.214285714, -1.988487272), (-16, 0), (-14.214285714, 1.988487272))
        make_face()
        with Locations(Location((0, 0, 0), (0, 0, 270))):
            Circle(SKETCH2_R, mode=Mode.SUBTRACT)
        with Locations(Location((-14.667614311, 0, 0), (0, 0, 270))):
            Circle(SKETCH2_R_2, mode=Mode.SUBTRACT)
        with Locations(Location((-12.667614311, 0, 0), (0, 0, 270))):
            Circle(SKETCH2_R_2, mode=Mode.SUBTRACT)
        with Locations(Location((-10.667614311, 0, 0), (0, 0, 270))):
            Circle(SKETCH2_R_2, mode=Mode.SUBTRACT)
        with Locations(Location((-8.667614311, 0, 0), (0, 0, 270))):
            Circle(SKETCH2_R_2, mode=Mode.SUBTRACT)
        with Locations(Location((-6.667614311, 0, 0), (0, 0, 270))):
            Circle(SKETCH2_R_2, mode=Mode.SUBTRACT)
        with Locations(Location((-4.667614311, 0, 0), (0, 0, 270))):
            Circle(SKETCH2_R_2, mode=Mode.SUBTRACT)
    extrude(amount=-BOSS_EXTRUDE2_DEPTH)

    # Sketch3 → Cut-Extrude1 (cut)
    with BuildSketch(Plane(origin=(0, 0, 0), x_dir=(-1, 0, 0), z_dir=(0, -1, 0))):
        with Locations(Location((0, 0, 0), (0, 0, 90))):
            Circle(SKETCH3_R)
    extrude(amount=-CUT_EXTRUDE1_DEPTH, mode=Mode.SUBTRACT)


solid = part.part
